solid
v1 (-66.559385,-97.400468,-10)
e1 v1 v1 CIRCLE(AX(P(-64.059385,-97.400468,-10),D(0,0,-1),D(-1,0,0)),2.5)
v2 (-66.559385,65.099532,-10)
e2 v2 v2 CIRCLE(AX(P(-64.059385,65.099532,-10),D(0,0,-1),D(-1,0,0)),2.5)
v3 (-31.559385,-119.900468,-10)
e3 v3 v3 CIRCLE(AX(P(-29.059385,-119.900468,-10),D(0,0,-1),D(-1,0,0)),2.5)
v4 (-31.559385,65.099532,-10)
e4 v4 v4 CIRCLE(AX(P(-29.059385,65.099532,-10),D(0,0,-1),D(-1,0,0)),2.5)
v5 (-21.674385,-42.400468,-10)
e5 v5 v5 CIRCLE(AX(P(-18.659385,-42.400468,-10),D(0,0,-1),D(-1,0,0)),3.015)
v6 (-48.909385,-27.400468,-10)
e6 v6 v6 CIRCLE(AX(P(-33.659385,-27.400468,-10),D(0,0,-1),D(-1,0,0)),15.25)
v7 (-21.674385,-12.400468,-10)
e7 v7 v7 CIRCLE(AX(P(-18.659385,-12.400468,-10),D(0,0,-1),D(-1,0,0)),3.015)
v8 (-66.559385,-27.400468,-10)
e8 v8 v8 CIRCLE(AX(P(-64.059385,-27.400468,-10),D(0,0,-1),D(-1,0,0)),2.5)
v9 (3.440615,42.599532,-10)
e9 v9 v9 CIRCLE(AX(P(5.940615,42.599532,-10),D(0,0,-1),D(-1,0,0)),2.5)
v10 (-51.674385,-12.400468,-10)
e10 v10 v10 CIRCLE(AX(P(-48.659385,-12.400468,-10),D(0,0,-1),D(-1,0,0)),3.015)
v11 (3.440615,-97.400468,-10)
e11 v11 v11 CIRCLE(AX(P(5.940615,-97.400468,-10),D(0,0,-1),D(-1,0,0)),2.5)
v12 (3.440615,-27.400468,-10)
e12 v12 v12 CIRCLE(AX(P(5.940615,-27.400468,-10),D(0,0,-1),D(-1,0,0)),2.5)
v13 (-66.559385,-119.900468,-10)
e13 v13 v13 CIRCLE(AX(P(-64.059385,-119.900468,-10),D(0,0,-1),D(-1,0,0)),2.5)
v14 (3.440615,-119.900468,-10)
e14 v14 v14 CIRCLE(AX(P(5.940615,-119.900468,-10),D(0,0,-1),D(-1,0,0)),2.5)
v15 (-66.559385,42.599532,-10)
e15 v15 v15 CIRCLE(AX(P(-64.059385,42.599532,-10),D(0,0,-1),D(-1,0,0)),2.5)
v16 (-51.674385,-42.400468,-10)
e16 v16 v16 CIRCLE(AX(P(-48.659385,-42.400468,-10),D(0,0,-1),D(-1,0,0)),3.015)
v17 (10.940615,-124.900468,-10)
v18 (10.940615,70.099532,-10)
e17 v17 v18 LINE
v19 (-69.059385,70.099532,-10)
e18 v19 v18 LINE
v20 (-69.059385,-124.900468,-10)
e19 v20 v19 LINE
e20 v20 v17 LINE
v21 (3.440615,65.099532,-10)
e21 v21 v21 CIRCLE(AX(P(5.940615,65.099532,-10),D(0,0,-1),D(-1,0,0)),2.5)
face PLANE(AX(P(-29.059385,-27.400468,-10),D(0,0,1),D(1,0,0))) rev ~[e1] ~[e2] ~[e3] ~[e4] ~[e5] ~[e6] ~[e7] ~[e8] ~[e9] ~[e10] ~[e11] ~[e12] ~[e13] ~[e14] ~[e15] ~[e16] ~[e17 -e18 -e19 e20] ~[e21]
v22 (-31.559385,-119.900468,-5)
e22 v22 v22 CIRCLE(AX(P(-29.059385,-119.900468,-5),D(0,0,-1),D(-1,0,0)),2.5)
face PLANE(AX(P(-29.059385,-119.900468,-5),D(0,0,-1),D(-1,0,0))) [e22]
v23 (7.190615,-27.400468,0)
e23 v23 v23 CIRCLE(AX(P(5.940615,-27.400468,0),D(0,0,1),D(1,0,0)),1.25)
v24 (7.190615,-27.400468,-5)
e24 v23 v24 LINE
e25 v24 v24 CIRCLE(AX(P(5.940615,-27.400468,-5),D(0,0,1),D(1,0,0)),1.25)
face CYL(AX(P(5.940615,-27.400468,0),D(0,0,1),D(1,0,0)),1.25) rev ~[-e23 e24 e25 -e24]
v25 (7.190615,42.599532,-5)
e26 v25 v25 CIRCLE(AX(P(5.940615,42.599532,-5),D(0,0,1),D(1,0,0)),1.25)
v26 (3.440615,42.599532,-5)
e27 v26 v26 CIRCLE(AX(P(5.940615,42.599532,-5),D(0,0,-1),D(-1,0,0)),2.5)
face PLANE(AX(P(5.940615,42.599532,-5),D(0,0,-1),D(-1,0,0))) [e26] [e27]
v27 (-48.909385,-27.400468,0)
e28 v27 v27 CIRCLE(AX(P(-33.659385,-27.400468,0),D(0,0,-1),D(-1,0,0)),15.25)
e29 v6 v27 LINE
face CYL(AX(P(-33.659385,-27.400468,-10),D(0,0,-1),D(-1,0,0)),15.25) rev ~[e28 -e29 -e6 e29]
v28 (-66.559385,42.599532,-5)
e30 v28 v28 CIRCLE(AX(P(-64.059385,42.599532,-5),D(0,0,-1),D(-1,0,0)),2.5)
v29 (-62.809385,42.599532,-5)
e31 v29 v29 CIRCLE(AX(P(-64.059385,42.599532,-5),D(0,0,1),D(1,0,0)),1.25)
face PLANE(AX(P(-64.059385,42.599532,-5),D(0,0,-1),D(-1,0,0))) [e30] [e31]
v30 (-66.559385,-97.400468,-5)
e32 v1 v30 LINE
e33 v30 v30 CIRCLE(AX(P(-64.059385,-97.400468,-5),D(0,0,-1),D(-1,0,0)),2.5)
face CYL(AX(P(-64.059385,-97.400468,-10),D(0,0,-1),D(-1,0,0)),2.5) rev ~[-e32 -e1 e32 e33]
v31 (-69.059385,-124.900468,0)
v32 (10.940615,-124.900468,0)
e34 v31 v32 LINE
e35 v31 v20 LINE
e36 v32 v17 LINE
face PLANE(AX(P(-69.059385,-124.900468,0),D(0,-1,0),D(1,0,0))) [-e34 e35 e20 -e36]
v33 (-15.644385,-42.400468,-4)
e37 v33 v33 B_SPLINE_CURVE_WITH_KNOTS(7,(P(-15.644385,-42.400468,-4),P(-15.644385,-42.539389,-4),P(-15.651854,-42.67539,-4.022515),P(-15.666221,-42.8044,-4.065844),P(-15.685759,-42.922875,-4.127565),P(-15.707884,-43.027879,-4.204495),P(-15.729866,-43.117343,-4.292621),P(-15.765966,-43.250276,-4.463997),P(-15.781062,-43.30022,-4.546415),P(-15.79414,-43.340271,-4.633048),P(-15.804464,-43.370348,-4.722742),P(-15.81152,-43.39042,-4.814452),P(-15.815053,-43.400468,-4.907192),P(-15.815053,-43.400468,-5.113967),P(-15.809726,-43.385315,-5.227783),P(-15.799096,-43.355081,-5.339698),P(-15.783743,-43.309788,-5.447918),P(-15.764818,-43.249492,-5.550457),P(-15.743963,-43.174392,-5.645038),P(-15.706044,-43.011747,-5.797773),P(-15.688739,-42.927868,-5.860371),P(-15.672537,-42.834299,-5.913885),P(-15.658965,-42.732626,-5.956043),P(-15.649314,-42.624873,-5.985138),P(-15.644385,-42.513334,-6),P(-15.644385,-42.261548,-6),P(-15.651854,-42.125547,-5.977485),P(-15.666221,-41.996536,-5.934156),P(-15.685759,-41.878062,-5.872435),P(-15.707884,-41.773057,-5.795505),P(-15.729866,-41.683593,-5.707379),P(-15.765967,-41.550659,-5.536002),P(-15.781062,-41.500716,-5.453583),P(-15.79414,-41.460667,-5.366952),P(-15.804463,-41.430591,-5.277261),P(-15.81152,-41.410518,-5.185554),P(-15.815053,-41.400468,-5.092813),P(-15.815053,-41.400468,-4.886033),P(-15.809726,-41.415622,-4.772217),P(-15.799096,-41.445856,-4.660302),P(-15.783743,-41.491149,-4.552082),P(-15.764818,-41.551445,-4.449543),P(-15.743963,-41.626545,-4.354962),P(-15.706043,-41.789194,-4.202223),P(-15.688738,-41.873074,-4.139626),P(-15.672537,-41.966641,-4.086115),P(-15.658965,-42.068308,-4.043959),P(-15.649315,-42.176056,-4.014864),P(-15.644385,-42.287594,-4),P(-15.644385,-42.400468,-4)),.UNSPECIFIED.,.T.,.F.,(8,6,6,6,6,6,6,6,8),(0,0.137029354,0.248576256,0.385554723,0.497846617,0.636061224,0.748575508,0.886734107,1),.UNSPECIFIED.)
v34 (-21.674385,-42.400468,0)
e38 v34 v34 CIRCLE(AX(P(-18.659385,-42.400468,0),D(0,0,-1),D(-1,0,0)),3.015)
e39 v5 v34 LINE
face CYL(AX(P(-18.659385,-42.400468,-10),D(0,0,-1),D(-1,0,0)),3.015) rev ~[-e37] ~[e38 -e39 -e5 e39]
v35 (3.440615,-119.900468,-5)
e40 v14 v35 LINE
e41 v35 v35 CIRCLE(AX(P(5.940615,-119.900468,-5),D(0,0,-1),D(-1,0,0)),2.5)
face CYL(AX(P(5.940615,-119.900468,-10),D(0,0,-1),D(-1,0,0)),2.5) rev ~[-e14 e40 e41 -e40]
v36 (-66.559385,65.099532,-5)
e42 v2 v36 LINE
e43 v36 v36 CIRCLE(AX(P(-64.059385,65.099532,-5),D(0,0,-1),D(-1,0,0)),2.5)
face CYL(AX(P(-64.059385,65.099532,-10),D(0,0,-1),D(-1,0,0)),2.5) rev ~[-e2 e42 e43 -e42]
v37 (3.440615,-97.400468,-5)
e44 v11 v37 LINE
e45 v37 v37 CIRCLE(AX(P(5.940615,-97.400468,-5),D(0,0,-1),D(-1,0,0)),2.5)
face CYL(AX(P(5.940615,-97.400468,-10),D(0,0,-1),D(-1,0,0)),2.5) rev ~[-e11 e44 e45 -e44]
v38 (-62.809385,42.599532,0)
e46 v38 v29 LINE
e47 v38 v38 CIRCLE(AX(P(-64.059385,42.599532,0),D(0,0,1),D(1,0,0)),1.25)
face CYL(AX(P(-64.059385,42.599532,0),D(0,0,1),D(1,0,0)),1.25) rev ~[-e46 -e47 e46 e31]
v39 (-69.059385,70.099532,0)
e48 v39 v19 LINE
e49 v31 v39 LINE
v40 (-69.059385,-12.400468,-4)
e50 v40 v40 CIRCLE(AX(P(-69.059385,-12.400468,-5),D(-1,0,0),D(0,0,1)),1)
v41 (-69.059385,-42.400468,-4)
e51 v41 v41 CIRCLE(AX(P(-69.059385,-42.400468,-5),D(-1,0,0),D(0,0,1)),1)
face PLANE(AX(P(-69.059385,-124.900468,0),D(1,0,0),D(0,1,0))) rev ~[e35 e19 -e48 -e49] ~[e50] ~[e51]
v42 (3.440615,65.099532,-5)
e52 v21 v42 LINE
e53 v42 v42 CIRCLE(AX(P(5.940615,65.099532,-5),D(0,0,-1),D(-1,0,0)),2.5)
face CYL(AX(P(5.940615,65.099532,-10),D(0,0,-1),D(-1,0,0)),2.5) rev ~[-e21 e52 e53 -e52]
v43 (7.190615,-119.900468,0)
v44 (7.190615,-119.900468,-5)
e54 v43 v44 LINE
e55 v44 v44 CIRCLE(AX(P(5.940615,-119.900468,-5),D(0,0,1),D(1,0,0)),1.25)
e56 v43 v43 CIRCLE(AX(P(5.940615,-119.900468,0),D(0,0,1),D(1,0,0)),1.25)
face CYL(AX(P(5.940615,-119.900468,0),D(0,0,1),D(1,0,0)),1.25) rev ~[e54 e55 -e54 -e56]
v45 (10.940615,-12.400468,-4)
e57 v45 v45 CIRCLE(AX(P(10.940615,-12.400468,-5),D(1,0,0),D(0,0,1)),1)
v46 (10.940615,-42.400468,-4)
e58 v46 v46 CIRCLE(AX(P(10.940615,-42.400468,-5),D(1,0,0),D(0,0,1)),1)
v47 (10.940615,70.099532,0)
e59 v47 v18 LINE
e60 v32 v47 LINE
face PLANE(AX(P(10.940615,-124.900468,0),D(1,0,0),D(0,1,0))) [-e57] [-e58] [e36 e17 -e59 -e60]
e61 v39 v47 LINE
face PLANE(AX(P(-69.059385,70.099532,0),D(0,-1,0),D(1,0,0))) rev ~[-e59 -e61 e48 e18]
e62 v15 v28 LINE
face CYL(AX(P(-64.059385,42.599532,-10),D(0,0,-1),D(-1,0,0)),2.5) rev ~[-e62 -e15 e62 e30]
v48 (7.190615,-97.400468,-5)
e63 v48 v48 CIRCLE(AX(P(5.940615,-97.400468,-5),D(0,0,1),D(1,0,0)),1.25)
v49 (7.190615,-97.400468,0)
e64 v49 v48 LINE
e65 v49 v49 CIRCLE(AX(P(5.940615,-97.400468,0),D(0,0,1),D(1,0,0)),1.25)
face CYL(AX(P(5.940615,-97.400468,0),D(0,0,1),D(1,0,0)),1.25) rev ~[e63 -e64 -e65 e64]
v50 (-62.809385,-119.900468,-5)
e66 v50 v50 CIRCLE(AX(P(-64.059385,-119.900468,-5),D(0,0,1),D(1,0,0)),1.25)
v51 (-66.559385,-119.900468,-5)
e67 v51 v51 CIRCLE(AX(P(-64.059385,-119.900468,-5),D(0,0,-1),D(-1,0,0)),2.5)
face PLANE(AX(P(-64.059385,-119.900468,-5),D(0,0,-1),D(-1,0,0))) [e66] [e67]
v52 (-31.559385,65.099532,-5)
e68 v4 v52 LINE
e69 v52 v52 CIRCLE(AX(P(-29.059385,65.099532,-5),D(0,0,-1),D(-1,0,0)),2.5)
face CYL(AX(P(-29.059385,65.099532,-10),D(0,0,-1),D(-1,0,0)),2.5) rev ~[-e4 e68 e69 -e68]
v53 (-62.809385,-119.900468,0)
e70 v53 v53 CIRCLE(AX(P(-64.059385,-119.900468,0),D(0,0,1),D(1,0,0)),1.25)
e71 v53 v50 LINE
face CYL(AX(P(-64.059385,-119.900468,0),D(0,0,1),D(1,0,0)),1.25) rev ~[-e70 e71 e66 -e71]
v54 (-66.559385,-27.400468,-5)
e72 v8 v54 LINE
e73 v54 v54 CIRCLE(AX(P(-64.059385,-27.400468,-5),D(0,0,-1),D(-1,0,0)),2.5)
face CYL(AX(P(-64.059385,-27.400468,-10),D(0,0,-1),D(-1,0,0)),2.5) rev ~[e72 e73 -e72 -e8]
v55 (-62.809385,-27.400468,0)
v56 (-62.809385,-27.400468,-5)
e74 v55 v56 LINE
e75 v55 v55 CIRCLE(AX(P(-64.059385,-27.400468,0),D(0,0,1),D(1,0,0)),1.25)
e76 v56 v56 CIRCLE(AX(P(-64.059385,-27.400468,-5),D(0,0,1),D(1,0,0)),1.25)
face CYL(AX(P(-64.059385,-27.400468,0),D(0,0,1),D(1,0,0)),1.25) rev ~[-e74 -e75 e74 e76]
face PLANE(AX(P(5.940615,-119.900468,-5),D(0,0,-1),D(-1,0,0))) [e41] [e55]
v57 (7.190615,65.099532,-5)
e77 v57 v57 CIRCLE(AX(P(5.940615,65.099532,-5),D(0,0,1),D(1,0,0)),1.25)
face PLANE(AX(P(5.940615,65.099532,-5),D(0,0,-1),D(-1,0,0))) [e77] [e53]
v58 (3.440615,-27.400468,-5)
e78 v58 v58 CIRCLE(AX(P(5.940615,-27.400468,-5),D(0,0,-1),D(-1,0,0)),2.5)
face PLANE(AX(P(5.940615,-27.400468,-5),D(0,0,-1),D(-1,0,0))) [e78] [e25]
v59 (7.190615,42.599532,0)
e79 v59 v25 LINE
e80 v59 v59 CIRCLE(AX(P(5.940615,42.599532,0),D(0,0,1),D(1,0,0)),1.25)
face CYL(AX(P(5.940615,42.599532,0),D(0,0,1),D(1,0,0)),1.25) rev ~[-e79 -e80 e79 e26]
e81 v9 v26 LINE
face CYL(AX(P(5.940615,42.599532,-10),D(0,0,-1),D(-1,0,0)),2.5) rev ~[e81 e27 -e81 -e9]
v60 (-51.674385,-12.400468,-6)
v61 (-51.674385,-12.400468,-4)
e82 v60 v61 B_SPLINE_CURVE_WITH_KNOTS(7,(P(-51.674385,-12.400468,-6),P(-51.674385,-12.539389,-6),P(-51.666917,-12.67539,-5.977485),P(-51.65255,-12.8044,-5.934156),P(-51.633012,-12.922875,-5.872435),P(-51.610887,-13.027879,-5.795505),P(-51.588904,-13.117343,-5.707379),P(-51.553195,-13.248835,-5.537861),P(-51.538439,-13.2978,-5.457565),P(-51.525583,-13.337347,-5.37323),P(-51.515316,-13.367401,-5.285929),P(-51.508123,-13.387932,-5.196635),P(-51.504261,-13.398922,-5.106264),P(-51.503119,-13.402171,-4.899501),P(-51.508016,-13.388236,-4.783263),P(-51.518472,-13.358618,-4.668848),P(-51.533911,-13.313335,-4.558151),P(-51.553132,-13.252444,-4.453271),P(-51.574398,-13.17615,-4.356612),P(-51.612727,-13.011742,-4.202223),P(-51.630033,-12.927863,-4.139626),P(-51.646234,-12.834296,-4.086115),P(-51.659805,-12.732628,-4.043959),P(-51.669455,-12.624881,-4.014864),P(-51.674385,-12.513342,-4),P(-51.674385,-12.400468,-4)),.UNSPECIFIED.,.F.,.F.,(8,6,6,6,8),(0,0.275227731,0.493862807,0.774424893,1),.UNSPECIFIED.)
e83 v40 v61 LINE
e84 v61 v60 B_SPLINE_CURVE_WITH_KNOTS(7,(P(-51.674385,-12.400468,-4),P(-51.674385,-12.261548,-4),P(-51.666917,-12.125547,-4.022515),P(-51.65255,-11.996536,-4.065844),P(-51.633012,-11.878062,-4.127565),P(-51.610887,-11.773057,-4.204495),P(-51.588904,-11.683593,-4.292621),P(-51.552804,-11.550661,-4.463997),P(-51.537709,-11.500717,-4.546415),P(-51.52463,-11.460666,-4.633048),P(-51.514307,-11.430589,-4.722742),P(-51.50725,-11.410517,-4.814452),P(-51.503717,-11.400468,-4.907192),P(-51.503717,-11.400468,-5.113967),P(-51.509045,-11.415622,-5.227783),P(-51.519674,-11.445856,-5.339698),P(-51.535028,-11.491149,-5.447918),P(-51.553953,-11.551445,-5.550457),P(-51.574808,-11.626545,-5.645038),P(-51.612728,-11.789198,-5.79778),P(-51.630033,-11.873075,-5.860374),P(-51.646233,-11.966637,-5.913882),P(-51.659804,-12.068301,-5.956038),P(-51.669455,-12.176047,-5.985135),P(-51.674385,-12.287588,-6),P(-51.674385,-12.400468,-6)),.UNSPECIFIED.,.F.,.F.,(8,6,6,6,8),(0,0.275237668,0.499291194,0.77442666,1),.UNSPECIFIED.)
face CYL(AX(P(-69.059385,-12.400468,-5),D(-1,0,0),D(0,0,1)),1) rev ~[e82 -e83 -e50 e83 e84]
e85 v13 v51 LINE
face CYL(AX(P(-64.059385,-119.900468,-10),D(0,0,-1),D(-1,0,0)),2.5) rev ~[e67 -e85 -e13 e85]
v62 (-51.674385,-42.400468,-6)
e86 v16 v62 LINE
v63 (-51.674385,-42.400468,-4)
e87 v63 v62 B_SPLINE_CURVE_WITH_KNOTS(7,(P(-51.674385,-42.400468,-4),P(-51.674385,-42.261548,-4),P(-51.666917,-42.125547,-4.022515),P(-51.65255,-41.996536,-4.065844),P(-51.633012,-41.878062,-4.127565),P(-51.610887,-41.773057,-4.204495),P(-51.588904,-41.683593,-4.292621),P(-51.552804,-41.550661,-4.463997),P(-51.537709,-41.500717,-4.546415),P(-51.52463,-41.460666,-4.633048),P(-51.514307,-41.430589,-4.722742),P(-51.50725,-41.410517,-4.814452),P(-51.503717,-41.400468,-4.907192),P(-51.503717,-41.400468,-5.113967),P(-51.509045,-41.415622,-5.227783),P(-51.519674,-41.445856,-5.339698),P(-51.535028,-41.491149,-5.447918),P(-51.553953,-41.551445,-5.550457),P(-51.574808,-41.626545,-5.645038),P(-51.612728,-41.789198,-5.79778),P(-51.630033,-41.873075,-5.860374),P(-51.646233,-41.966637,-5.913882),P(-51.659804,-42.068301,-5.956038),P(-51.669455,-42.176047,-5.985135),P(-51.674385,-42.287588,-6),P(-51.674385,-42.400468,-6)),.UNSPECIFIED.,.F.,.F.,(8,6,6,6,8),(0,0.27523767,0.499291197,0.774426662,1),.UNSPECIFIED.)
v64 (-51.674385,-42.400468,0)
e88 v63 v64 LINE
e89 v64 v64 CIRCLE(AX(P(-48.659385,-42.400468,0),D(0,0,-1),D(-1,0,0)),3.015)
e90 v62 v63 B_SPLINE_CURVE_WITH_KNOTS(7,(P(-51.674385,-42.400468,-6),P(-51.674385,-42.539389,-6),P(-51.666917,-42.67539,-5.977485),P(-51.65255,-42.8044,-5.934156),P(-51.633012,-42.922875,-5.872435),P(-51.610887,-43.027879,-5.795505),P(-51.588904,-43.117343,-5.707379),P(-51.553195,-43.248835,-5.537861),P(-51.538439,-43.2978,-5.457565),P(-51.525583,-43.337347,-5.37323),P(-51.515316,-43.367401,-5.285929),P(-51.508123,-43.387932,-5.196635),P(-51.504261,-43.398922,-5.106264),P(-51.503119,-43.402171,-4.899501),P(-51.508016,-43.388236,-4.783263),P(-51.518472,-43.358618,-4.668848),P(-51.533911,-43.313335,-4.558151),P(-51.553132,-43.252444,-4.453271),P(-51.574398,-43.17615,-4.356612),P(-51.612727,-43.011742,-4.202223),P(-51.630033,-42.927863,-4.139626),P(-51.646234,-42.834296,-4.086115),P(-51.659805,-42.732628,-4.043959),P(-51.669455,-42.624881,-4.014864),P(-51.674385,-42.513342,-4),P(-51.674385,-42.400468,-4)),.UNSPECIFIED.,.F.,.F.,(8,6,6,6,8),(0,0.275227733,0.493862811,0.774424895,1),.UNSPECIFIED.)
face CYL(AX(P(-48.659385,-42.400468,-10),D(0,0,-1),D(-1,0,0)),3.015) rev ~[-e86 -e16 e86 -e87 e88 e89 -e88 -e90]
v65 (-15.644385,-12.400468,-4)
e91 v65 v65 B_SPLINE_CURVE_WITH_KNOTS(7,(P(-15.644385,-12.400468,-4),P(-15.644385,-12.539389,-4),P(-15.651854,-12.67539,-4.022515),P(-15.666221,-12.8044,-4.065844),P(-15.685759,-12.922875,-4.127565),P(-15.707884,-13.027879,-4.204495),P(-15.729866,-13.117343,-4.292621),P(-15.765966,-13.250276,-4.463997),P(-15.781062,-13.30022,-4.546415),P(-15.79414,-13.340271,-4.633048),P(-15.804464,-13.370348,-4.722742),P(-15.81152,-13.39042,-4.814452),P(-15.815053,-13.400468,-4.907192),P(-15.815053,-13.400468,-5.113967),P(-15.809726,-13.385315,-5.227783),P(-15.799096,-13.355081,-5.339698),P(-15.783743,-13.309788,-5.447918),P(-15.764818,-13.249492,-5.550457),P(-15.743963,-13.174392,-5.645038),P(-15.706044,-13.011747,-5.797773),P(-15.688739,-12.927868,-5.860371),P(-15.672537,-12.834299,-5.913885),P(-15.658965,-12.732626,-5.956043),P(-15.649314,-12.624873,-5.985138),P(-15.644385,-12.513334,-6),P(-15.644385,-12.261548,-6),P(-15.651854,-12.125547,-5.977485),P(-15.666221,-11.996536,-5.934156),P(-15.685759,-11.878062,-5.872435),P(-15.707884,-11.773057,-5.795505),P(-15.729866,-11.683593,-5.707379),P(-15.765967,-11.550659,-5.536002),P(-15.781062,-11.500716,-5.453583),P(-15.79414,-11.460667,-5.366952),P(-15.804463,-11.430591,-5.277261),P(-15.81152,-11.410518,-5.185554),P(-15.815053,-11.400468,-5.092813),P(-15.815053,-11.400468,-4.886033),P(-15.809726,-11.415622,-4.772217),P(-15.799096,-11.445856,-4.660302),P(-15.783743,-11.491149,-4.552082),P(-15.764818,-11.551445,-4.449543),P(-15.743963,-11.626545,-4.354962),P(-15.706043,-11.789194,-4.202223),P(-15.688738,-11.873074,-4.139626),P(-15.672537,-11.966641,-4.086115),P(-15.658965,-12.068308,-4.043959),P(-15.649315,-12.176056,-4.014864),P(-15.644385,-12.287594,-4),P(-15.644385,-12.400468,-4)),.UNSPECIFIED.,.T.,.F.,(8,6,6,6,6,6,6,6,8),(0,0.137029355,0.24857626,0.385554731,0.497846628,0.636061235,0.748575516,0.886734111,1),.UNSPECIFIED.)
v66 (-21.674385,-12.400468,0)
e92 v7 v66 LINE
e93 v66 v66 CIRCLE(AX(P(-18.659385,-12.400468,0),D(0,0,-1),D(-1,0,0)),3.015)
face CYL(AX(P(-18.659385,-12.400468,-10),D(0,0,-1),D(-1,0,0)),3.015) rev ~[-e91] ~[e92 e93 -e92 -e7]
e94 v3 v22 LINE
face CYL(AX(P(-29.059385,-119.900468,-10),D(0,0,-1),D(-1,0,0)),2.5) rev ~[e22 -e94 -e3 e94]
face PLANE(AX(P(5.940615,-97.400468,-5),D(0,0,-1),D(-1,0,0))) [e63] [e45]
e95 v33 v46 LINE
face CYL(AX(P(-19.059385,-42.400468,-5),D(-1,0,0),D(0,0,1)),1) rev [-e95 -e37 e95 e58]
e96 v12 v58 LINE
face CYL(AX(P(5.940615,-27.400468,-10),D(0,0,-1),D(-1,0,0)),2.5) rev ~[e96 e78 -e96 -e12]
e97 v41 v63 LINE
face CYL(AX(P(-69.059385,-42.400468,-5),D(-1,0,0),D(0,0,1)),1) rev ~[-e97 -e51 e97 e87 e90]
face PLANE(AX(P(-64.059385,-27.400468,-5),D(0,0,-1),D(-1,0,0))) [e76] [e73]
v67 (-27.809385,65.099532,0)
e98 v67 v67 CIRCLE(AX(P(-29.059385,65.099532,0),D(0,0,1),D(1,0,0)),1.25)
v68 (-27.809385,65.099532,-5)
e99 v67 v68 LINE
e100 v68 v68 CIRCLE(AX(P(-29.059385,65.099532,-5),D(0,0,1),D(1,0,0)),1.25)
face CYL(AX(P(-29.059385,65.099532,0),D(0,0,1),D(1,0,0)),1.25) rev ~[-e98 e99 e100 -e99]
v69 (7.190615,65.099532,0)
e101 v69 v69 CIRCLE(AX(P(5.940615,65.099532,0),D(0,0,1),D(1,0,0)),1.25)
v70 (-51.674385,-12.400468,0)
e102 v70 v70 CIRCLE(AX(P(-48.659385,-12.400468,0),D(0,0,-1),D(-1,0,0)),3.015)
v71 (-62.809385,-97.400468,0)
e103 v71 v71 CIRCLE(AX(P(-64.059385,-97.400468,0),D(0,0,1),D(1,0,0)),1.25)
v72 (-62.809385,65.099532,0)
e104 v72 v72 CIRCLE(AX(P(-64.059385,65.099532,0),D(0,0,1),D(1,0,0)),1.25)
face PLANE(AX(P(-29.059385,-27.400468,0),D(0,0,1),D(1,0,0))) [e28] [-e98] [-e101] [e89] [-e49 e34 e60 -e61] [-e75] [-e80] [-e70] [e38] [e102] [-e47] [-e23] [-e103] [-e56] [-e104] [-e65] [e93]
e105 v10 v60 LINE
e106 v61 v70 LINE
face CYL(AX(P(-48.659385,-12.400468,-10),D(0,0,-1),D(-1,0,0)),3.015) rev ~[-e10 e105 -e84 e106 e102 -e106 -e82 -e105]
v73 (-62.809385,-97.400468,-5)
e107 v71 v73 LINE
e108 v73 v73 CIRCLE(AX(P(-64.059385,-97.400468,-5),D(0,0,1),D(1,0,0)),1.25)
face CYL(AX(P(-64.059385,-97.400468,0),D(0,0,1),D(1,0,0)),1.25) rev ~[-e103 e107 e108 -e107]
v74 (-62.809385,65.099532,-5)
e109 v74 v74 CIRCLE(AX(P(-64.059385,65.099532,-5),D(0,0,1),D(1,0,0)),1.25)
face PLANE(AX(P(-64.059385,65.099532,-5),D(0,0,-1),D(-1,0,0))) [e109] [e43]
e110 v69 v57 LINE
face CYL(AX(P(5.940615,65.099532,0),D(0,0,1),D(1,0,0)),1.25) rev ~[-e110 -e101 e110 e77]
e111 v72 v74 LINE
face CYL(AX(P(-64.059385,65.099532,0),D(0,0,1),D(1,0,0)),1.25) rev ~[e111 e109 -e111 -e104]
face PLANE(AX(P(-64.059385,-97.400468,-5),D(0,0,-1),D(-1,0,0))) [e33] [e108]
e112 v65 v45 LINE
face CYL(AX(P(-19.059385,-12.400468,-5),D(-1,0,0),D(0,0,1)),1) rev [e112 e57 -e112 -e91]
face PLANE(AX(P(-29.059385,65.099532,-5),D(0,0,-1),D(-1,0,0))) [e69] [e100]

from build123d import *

# Parameters (mm, degrees)
SKIZZE1_W                       = 80
SKIZZE1_H                       = 195
AUFSATZ_LINEAR_AUSTRAGEN1_DEPTH = 10
SKIZZE2_R                       = 3.015
SKIZZE2_R_2                     = 15.25
SCHNITT_LINEAR_AUSTRAGEN1_DEPTH = 10
SKIZZE3_R                       = 2.5
SCHNITT_LINEAR_AUSTRAGEN2_DEPTH = 5
SKIZZE6_R                       = 1.25
SCHNITT_LINEAR_AUSTRAGEN4_DEPTH = 5
SKIZZE7_R                       = 1
SCHNITT_LINEAR_AUSTRAGEN5_DEPTH = 20
SCHNITT_LINEAR_START            = -30
SKIZZE8_R                       = 1
SCHNITT_LINEAR_AUSTRAGEN6_DEPTH = 30


with BuildPart() as part:
    # Skizze1 → Aufsatz-Linear austragen1 (new body)
    with BuildSketch(Plane.XY):
        with Locations((-29.059385344, -27.400468384)):
            Rectangle(SKIZZE1_W, SKIZZE1_H)
    extrude(amount=-AUFSATZ_LINEAR_AUSTRAGEN1_DEPTH)

    # Skizze2 → Schnitt-Linear austragen1 (cut)
    with BuildSketch(Plane(origin=(0, 0, -10), x_dir=(-1, 0, 0), z_dir=(0, 0, -1))):
        with Locations((18.659385344, -12.400468384)):
            Circle(SKIZZE2_R)
        with Locations((48.659385344, -12.400468384)):
            Circle(SKIZZE2_R)
        with Locations((18.659385344, -42.400468384)):
            Circle(SKIZZE2_R)
        with Locations((48.659385344, -42.400468384)):
            Circle(SKIZZE2_R)
        with Locations((33.659385344, -27.400468384)):
            Circle(SKIZZE2_R_2)
    extrude(amount=-SCHNITT_LINEAR_AUSTRAGEN1_DEPTH, mode=Mode.SUBTRACT)

    # Skizze3 → Schnitt-Linear austragen2 (cut)
    with BuildSketch(Plane(origin=(0, 0, -10), x_dir=(-1, 0, 0), z_dir=(0, 0, -1))):
        with Locations((29.059385344, 65.099531616)):
            Circle(SKIZZE3_R)
        with Locations((-5.940614656, 65.099531616)):
            Circle(SKIZZE3_R)
        with Locations((64.059385344, 65.099531616)):
            Circle(SKIZZE3_R)
        with Locations((29.059385344, -119.900468384)):
            Circle(SKIZZE3_R)
        with Locations((-5.940614656, -119.900468384)):
            Circle(SKIZZE3_R)
        with Locations((64.059385344, -119.900468384)):
            Circle(SKIZZE3_R)
        with Locations((-5.940614656, 42.599531616)):
            Circle(SKIZZE3_R)
        with Locations((-5.940614656, -27.400468384)):
            Circle(SKIZZE3_R)
        with Locations((-5.940614656, -97.400468384)):
            Circle(SKIZZE3_R)
        with Locations((64.059385344, -97.400468384)):
            Circle(SKIZZE3_R)
        with Locations((64.059385344, -27.400468384)):
            Circle(SKIZZE3_R)
        with Locations((64.059385344, 42.599531616)):
            Circle(SKIZZE3_R)
    extrude(amount=-SCHNITT_LINEAR_AUSTRAGEN2_DEPTH, mode=Mode.SUBTRACT)

    # Skizze6 → Schnitt-Linear austragen4 (cut)
    with BuildSketch(Plane.XY):
        with Locations((-64.059385344, 65.099531616)):
            Circle(SKIZZE6_R)
        with Locations((-29.059385344, 65.099531616)):
            Circle(SKIZZE6_R)
        with Locations((5.940614656, 65.099531616)):
            Circle(SKIZZE6_R)
        with Locations((-64.059385344, 42.599531616)):
            Circle(SKIZZE6_R)
        with Locations((-64.059385344, -27.400468384)):
            Circle(SKIZZE6_R)
        with Locations((-64.059385344, -97.400468384)):
            Circle(SKIZZE6_R)
        with Locations((-64.059385344, -119.900468384)):
            Circle(SKIZZE6_R)
        with Locations((5.940614656, -119.900468384)):
            Circle(SKIZZE6_R)
        with Locations((5.940614656, -97.400468384)):
            Circle(SKIZZE6_R)
        with Locations((5.940614656, -27.400468384)):
            Circle(SKIZZE6_R)
        with Locations((5.940614656, 42.599531616)):
            Circle(SKIZZE6_R)
    extrude(amount=-SCHNITT_LINEAR_AUSTRAGEN4_DEPTH, mode=Mode.SUBTRACT)

    # Skizze7 → Schnitt-Linear austragen5 (cut)
    with BuildSketch(Plane.ZY.offset(69.059385344)):
        with Locations((-5, -12.400468384)):
            Circle(SKIZZE7_R)
        with Locations((-5, -42.400468384)):
            Circle(SKIZZE7_R)
    extrude(amount=-SCHNITT_LINEAR_AUSTRAGEN5_DEPTH, mode=Mode.SUBTRACT)

    # Skizze8 → Schnitt-Linear austragen6 (cut)
    with BuildSketch(Plane(origin=(10.940614656, 0, 0), x_dir=(0, 0, -1), z_dir=(1, 0, 0)).offset(SCHNITT_LINEAR_START)):
        with Locations(Location((5, -12.400468384, 0), (0, 0, 180))):
            Circle(SKIZZE8_R)
        with Locations(Location((5, -42.400468384, 0), (0, 0, 180))):
            Circle(SKIZZE8_R)
    extrude(amount=SCHNITT_LINEAR_AUSTRAGEN6_DEPTH, mode=Mode.SUBTRACT)


solid = part.part
